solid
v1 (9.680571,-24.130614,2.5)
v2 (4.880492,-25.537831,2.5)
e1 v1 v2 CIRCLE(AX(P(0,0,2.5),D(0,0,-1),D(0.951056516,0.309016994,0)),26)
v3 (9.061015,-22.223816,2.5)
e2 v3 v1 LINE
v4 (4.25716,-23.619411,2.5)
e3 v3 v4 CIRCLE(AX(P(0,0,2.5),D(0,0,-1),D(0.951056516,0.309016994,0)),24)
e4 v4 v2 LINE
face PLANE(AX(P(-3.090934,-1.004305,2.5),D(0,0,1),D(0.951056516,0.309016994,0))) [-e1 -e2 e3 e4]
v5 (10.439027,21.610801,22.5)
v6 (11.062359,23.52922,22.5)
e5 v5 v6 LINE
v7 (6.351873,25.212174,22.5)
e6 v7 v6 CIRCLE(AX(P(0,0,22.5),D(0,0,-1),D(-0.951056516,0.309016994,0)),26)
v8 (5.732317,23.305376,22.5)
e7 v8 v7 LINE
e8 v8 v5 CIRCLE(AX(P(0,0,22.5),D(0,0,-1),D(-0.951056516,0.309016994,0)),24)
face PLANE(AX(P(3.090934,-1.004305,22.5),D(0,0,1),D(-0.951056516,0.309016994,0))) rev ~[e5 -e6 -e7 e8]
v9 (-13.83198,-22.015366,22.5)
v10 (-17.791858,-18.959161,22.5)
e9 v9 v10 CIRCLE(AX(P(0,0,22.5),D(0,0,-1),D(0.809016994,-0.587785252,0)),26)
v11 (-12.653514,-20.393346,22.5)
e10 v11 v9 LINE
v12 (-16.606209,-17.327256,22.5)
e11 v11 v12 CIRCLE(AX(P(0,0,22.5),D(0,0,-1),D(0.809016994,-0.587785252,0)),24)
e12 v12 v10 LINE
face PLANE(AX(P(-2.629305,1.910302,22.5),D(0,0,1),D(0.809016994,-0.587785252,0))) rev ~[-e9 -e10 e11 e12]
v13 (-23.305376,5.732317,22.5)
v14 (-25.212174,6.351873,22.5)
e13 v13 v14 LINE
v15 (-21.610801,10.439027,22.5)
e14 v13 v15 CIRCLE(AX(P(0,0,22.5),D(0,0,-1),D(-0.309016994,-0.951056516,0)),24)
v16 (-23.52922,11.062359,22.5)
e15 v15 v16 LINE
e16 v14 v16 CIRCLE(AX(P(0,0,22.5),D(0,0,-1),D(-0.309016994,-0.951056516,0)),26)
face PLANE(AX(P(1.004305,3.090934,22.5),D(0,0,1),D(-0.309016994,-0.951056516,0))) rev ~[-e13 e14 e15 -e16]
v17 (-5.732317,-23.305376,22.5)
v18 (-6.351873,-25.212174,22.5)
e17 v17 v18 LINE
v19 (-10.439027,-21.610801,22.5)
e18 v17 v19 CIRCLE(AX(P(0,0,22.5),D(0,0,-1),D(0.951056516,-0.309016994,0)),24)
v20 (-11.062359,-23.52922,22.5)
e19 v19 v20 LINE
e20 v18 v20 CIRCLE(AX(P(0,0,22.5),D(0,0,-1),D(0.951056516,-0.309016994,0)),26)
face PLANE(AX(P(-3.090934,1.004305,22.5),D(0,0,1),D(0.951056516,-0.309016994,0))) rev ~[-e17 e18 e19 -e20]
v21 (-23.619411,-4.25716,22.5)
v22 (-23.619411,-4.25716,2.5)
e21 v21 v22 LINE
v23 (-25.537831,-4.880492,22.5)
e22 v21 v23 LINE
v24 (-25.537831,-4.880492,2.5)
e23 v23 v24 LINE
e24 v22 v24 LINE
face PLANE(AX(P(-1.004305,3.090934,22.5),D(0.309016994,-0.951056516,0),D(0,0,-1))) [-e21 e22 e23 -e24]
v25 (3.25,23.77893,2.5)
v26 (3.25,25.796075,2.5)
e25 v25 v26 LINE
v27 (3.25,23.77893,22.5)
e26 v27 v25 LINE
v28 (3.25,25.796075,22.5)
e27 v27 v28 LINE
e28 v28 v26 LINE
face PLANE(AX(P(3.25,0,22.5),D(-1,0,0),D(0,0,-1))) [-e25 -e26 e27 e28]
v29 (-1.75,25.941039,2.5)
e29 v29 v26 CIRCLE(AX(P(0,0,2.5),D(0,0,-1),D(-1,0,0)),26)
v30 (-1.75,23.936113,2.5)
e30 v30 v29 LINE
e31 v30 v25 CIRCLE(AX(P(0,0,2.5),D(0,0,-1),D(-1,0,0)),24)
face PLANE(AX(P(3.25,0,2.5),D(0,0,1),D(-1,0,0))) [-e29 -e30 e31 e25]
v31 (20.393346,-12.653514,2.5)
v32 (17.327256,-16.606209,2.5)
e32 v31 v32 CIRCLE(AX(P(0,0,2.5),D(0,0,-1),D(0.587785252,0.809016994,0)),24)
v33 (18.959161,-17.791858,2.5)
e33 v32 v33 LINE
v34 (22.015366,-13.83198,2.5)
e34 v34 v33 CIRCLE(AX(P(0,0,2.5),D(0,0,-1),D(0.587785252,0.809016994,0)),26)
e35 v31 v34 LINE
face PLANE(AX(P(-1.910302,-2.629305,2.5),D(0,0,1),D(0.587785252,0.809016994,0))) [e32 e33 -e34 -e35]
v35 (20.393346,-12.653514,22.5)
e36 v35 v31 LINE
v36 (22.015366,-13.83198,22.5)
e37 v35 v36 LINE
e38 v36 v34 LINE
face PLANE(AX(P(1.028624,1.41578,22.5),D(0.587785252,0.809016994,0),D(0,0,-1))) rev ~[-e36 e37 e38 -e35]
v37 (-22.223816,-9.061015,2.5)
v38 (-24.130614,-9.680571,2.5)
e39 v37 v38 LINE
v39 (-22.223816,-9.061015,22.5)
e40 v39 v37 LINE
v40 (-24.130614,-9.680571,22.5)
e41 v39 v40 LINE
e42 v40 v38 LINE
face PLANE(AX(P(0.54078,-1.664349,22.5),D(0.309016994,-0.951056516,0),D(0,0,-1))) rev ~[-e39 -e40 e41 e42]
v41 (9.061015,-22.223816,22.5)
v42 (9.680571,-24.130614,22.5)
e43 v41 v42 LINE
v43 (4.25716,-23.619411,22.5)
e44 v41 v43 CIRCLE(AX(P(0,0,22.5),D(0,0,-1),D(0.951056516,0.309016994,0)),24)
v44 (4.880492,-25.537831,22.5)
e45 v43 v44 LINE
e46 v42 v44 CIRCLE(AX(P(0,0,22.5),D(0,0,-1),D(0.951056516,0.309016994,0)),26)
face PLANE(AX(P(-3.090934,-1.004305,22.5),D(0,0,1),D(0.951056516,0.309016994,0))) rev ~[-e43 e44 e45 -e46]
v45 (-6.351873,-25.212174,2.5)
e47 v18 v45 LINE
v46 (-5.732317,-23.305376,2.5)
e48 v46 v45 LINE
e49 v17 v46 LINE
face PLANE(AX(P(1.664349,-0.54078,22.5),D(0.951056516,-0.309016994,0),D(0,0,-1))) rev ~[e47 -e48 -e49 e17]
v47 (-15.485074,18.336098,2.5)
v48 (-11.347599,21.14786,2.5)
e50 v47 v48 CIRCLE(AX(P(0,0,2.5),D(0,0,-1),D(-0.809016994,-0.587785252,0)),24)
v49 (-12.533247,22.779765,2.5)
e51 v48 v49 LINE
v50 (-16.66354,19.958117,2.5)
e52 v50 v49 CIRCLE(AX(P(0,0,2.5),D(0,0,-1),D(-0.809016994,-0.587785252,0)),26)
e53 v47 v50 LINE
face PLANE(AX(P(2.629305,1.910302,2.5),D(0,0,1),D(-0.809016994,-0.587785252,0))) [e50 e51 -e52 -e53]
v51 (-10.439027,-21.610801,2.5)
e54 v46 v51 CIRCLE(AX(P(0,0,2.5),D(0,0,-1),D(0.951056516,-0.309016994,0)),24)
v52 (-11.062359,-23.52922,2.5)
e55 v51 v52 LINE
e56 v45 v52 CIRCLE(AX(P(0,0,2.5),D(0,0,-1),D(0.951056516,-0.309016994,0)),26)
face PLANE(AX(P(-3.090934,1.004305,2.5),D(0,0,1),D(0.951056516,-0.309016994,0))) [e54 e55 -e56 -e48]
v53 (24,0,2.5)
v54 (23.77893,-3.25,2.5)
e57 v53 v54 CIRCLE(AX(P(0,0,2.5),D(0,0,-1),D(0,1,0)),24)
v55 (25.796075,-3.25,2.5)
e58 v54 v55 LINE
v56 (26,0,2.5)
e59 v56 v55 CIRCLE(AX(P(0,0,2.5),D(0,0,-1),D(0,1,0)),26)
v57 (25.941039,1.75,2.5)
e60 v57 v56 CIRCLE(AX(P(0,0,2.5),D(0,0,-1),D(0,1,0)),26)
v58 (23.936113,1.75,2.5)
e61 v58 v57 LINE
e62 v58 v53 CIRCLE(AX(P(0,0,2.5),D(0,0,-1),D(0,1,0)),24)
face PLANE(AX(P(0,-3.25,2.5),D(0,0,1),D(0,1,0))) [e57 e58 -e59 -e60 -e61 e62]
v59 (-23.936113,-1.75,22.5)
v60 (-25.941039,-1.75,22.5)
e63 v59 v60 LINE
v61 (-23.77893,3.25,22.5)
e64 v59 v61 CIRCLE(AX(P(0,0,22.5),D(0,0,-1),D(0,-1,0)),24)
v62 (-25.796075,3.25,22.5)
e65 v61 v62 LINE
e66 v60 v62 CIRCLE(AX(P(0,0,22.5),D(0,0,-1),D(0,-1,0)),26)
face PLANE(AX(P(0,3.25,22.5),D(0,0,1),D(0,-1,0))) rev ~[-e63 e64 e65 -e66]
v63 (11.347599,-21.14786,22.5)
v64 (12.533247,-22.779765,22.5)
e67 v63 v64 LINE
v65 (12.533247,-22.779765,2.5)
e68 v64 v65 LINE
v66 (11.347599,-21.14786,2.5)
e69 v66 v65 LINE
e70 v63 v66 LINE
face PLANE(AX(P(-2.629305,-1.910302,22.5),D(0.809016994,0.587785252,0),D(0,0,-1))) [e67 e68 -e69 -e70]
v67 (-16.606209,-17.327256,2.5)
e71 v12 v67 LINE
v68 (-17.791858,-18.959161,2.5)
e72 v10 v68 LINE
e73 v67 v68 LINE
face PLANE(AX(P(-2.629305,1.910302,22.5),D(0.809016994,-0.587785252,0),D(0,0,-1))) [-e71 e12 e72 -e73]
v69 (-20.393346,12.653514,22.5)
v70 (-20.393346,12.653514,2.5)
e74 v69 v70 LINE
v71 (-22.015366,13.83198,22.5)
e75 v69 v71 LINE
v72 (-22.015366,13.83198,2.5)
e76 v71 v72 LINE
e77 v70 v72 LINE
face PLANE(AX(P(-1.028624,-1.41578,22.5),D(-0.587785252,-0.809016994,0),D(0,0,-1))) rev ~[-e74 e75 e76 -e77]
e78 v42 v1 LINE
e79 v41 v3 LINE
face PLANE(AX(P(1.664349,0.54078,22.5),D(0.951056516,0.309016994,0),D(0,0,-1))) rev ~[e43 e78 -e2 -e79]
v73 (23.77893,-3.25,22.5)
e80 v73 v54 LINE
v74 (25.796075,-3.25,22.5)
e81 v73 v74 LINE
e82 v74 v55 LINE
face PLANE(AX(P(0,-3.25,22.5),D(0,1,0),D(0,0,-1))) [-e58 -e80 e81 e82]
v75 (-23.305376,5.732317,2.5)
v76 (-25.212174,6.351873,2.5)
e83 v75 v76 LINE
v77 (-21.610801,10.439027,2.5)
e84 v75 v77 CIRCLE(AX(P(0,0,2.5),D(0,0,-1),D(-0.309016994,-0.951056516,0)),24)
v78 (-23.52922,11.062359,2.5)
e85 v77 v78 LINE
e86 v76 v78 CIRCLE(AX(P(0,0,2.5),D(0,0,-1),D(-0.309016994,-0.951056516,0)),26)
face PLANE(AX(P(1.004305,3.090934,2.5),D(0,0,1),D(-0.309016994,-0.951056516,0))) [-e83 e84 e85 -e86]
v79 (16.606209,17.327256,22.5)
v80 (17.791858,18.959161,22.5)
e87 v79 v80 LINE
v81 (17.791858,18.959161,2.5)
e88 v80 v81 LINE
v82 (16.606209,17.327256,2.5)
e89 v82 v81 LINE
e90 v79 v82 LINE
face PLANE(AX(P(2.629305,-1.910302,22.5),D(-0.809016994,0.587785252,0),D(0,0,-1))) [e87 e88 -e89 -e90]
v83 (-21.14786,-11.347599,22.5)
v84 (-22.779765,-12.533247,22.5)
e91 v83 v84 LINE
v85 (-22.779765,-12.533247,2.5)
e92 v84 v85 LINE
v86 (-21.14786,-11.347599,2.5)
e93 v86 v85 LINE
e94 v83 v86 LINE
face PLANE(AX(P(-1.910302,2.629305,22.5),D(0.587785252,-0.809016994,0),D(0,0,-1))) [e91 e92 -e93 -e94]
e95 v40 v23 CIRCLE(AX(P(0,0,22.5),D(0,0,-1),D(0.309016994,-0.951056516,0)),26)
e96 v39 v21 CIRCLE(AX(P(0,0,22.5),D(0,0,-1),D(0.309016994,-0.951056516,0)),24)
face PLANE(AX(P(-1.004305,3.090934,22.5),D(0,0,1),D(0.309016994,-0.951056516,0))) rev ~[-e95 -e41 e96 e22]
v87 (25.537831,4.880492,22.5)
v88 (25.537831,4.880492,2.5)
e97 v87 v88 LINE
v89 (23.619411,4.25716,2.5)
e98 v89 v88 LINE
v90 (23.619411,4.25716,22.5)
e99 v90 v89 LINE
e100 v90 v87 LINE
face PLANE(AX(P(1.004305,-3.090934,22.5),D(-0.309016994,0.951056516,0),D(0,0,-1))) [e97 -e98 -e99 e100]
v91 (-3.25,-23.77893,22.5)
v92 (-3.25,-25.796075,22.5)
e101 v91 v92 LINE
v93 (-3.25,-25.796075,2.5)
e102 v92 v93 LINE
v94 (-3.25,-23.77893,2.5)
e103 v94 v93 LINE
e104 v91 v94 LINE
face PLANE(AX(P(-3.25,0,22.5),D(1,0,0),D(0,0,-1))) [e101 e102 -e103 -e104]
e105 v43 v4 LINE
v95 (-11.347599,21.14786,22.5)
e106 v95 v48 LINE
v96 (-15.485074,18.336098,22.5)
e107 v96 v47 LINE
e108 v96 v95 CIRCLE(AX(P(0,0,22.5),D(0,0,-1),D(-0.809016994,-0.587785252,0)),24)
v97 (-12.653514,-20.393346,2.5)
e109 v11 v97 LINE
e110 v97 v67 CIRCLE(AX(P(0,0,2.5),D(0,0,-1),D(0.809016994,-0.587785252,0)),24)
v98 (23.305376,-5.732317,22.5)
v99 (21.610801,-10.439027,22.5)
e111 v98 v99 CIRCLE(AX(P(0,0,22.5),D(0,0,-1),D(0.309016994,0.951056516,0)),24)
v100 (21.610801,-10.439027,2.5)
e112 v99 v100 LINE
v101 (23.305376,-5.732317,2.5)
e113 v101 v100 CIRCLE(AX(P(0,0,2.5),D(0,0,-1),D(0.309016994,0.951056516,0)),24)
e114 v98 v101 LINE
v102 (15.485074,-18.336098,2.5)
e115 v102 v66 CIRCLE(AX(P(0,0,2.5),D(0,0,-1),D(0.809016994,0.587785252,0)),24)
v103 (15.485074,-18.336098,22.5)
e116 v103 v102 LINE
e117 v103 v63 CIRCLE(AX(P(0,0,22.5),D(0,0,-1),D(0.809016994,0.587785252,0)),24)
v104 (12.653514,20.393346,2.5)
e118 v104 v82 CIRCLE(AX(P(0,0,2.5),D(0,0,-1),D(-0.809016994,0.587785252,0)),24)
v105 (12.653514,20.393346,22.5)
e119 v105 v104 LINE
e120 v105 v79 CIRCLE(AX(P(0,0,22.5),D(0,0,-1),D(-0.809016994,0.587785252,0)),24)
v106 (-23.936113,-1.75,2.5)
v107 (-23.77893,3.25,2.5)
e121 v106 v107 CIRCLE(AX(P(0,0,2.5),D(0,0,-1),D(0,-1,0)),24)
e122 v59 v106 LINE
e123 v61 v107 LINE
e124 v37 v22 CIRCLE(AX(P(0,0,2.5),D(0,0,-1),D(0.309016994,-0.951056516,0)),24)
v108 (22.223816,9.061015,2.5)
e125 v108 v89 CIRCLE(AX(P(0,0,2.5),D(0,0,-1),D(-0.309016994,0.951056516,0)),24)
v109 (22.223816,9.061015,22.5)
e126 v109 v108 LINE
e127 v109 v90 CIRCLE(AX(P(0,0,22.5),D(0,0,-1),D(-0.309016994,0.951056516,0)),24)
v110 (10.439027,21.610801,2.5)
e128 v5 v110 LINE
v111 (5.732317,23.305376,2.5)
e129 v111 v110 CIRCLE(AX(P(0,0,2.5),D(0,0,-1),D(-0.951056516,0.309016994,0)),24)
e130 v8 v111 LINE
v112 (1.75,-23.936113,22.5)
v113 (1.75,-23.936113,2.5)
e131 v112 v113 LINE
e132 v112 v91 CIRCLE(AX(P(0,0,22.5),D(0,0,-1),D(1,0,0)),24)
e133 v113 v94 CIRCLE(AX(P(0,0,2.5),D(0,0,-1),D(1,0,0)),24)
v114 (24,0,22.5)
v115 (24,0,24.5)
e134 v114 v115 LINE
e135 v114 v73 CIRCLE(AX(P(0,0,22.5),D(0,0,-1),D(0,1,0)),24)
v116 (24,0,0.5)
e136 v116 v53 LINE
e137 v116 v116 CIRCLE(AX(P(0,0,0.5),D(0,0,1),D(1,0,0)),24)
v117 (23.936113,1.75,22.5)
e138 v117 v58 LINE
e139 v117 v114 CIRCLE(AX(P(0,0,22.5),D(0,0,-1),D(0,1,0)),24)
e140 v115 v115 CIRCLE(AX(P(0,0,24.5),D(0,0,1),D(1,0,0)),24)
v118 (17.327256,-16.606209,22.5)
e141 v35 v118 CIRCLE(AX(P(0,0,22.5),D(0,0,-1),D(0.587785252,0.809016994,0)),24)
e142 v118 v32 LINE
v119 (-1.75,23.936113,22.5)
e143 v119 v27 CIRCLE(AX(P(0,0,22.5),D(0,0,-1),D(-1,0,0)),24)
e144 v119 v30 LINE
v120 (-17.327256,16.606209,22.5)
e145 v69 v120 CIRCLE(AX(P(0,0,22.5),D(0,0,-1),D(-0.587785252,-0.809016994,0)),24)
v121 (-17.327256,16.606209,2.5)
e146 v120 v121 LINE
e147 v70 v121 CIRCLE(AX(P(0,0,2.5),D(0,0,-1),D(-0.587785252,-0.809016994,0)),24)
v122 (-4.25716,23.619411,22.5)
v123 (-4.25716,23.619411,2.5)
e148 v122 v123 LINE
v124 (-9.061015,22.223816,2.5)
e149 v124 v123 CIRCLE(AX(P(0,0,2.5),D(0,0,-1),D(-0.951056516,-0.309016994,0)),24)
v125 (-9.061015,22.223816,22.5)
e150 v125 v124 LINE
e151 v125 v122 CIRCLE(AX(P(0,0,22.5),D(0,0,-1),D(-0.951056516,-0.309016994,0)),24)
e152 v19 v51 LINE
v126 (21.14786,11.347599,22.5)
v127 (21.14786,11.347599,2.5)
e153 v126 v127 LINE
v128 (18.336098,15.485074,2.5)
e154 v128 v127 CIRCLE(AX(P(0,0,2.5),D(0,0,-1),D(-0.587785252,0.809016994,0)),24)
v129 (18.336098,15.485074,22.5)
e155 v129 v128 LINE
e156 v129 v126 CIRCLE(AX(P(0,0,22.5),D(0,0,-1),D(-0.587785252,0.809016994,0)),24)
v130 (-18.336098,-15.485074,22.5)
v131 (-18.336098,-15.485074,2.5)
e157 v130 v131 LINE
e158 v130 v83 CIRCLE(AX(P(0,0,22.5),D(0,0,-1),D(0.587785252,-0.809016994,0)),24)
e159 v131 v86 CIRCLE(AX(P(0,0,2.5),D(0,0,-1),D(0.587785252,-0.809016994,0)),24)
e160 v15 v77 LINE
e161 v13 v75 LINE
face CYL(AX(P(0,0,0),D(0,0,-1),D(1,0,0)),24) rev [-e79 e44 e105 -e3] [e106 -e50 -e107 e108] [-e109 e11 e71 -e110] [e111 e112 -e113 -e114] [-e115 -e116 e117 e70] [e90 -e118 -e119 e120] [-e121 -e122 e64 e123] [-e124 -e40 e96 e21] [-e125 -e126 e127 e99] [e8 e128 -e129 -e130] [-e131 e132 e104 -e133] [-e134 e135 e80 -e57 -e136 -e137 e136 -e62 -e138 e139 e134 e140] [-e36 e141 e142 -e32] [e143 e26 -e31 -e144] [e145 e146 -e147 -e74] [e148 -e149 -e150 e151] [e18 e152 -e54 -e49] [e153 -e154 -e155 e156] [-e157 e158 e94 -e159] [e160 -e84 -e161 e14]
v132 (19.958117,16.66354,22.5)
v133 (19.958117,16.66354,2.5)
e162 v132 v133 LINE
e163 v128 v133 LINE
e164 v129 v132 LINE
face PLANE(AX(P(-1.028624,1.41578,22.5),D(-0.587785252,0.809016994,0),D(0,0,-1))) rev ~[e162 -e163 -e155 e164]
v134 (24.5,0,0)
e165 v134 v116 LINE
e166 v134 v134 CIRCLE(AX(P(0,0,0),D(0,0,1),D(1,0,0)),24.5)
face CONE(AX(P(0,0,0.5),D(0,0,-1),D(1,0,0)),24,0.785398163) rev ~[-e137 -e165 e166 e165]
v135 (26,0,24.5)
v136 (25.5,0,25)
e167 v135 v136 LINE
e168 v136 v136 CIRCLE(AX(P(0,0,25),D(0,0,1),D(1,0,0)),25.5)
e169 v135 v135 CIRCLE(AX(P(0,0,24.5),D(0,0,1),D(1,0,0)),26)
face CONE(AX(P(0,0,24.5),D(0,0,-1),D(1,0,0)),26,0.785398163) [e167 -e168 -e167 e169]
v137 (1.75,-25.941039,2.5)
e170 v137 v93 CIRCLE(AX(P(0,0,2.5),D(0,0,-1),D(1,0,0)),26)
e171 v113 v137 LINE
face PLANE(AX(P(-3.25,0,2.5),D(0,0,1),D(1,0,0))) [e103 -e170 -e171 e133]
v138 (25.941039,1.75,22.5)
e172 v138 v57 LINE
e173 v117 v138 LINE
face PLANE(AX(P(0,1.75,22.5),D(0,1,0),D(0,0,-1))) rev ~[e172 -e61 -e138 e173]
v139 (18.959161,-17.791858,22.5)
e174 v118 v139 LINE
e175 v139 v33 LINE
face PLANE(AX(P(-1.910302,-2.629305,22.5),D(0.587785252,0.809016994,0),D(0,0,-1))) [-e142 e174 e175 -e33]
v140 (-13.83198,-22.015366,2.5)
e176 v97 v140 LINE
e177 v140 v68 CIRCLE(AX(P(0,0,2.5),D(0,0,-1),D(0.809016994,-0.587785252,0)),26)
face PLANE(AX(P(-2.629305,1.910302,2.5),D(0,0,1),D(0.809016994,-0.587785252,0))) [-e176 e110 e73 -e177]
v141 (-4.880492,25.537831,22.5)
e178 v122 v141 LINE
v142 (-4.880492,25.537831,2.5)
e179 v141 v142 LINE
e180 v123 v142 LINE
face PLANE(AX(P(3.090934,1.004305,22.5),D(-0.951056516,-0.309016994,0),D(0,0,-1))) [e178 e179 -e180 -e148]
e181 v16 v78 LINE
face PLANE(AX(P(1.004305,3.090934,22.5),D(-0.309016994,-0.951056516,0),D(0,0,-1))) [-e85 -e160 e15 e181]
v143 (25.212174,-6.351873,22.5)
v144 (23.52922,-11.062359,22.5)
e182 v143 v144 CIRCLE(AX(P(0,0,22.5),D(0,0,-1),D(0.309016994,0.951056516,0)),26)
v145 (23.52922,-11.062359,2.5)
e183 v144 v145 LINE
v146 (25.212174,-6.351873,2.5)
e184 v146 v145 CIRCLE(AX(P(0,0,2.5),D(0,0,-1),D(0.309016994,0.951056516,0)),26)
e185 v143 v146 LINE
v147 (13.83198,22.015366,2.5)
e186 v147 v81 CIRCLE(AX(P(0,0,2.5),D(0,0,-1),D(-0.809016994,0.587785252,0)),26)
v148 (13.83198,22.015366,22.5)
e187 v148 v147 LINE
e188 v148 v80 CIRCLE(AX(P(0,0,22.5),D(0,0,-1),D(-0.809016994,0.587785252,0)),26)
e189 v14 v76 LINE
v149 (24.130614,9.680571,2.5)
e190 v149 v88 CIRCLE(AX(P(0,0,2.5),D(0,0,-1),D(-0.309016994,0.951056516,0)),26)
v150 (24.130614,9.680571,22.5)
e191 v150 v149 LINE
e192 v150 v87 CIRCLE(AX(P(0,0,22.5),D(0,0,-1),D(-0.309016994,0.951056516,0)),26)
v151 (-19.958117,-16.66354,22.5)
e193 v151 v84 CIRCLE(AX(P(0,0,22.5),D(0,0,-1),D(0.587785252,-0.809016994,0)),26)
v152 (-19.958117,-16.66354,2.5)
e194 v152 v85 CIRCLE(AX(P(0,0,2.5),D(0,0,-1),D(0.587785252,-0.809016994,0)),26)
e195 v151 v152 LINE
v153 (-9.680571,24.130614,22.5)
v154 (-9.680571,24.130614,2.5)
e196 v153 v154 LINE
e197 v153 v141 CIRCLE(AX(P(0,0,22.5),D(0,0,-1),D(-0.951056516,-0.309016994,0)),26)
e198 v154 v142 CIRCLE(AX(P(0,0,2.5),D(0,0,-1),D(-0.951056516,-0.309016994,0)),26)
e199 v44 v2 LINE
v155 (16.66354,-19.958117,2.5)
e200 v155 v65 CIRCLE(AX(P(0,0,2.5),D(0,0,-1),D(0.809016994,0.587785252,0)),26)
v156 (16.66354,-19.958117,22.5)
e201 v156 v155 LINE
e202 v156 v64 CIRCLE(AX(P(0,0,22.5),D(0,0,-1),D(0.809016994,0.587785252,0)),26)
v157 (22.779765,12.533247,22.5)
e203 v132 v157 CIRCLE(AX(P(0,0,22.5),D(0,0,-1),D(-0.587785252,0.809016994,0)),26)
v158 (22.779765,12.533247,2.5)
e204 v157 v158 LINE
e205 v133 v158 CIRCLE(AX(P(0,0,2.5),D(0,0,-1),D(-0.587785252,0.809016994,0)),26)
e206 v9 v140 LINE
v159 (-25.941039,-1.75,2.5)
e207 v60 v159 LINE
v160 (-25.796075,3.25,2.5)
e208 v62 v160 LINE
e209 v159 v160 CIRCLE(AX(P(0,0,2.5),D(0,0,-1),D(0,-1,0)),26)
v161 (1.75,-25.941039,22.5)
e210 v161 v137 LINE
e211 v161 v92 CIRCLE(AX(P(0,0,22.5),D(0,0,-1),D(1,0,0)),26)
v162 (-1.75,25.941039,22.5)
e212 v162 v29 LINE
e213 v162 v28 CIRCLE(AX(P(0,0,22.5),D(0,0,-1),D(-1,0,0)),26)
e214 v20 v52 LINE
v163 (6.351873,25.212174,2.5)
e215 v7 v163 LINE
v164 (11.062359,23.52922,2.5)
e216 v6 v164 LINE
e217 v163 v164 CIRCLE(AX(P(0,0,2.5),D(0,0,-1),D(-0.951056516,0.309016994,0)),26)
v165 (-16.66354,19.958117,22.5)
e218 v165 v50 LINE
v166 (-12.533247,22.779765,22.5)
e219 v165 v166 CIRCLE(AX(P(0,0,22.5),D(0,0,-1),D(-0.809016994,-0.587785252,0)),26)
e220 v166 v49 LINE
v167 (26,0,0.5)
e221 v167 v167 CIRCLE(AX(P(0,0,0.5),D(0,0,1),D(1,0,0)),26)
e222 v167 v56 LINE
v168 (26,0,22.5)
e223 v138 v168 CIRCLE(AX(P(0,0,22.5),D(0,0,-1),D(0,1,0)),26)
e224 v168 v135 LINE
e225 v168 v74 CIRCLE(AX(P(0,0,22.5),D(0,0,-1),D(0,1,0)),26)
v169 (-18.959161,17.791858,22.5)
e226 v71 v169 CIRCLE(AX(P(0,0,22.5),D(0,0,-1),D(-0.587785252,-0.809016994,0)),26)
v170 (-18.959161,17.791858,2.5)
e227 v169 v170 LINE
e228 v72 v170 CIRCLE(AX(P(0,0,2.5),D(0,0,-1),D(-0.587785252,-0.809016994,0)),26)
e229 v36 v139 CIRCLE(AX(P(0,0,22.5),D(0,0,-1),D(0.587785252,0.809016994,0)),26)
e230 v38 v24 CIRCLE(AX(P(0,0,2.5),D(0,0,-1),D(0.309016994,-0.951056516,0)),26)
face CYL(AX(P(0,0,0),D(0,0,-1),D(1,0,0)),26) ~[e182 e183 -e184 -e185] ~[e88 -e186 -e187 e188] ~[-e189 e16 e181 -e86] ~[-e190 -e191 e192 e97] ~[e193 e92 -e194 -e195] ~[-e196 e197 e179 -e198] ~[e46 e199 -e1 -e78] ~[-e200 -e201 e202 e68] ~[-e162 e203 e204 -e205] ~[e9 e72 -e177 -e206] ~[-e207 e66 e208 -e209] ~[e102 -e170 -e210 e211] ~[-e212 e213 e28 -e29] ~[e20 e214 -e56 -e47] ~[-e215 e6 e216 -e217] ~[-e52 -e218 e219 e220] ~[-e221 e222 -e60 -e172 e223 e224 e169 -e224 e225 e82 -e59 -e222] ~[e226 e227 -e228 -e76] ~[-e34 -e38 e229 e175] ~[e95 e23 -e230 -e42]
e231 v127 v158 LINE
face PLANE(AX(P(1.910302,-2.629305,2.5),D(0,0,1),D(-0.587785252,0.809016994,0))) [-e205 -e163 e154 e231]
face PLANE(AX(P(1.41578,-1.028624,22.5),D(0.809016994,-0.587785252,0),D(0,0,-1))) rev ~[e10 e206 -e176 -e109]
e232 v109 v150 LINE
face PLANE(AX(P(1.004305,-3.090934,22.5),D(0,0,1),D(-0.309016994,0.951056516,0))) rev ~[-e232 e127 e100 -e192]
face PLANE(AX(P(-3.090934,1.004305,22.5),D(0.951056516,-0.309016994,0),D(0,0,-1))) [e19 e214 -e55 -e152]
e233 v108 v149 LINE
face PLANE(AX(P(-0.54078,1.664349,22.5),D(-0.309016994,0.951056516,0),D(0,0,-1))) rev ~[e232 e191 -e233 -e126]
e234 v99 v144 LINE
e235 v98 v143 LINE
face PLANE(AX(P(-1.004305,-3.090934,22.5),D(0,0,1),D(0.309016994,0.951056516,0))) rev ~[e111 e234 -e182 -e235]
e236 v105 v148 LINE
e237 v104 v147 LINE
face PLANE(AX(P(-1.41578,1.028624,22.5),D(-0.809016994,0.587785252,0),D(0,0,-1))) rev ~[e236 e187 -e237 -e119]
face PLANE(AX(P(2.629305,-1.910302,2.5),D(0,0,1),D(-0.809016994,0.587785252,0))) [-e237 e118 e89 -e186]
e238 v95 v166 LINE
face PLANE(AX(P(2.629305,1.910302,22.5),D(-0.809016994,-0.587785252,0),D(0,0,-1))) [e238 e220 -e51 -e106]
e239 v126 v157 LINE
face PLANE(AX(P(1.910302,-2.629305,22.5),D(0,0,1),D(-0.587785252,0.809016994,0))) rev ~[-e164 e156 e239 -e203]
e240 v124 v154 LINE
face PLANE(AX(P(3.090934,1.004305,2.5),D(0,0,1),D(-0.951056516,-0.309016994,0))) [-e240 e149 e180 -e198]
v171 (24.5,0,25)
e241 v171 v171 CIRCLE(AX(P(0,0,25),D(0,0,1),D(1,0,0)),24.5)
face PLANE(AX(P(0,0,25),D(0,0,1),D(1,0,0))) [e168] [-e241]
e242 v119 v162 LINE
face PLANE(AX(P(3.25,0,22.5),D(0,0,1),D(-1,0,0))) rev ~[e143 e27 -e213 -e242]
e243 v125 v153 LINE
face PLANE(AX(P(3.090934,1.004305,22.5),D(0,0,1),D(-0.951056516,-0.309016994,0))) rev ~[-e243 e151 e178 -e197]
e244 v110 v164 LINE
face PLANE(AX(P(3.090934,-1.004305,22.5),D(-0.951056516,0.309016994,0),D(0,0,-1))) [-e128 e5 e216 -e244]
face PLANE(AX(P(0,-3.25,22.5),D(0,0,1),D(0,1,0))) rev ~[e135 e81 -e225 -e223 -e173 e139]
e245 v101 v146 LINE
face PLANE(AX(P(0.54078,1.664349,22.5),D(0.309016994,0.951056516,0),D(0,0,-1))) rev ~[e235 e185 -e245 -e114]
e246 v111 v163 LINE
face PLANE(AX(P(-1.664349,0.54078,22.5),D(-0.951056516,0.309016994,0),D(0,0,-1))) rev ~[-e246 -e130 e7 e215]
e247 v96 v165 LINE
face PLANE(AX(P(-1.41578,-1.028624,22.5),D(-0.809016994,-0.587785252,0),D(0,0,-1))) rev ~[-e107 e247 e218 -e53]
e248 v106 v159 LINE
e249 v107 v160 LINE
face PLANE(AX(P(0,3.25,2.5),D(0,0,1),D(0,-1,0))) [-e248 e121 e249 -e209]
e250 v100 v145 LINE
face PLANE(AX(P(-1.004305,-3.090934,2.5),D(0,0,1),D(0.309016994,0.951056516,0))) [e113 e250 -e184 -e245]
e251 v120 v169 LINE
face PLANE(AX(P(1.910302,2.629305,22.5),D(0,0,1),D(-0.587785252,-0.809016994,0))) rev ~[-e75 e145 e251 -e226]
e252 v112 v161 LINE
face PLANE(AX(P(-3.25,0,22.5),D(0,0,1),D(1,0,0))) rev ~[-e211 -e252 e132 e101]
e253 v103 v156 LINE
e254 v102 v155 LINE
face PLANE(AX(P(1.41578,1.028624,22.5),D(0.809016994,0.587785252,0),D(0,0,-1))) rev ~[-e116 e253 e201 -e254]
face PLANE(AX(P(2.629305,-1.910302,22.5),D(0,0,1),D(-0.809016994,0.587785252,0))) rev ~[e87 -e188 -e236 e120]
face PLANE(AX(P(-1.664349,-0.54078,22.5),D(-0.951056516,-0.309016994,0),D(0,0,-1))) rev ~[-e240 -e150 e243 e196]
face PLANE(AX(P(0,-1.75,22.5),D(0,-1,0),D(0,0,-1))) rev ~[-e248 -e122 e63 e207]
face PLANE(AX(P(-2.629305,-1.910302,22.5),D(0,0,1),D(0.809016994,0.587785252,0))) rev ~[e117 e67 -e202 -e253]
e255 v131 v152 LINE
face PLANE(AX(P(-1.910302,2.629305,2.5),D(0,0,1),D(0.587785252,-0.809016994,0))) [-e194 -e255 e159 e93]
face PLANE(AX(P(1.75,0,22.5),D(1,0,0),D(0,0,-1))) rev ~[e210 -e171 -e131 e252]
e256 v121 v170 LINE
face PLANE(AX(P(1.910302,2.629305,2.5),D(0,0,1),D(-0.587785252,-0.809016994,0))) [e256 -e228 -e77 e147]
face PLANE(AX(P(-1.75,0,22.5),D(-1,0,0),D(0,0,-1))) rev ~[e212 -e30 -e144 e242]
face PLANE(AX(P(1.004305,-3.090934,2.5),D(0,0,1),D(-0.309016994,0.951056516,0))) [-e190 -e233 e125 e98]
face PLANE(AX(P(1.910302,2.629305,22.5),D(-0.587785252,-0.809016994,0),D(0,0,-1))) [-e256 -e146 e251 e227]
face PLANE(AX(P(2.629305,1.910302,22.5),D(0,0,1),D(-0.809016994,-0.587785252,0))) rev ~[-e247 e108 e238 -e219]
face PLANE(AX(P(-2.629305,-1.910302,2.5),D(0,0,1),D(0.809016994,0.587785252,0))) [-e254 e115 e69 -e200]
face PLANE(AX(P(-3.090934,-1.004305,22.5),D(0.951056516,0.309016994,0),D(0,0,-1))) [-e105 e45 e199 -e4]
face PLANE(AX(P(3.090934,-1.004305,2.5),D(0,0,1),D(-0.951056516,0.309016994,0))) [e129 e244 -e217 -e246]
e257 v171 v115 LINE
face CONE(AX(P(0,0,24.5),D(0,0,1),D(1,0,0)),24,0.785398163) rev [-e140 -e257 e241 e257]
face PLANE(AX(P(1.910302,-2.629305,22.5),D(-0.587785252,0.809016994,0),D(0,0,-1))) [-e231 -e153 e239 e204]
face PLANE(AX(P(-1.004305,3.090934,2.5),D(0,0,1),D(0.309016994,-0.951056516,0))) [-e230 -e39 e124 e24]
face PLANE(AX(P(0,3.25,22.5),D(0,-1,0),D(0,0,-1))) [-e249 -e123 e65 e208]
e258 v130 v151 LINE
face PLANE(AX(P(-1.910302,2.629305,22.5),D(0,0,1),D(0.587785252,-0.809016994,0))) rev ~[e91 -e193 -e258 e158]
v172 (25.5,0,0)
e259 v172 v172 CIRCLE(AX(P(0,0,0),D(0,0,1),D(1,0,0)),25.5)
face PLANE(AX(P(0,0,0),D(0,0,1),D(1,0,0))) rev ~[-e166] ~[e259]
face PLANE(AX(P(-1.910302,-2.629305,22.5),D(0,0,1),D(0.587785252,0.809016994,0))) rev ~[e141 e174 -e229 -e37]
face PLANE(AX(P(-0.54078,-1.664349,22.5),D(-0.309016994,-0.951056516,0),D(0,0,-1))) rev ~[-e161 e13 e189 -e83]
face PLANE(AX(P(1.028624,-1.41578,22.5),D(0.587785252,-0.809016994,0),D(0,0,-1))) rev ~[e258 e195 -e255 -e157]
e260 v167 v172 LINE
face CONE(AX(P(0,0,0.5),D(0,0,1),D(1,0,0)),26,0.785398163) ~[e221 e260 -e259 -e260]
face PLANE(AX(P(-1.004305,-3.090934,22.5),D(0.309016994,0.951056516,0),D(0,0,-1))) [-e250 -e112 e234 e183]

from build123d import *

# Parameters (mm, degrees)
ESQUISSE1_R                  = 26
ESQUISSE1_R_2                = 24
BASE_EXTRUSION_DEPTH         = 25
ENL_V_MAT_EXTRU_1_REACH      = 46.463
ESQUISSE2_W                  = 5
ESQUISSE2_H                  = 20
R_P_TITION_CIRCULAIRE2_COUNT = 20
CHANFREIN1_SIZE              = 0.5


with BuildPart() as part:
    # Esquisse1 → Base-Extrusion (new body)
    with BuildSketch(Plane.XY):
        Circle(ESQUISSE1_R)
        Circle(ESQUISSE1_R_2, mode=Mode.SUBTRACT)
    extrude(amount=BASE_EXTRUSION_DEPTH)

    # Esquisse2 → Enlèv. mat.-Extru.1 (cut, up to next)
    with BuildSketch(Plane(origin=(0, 0, 0), x_dir=(1, 0, 0), z_dir=(0, 1, 0)), mode=Mode.PRIVATE) as enl_v_mat_extru_1_sk1:
        with Locations((-0.75, -12.5)):
            Rectangle(ESQUISSE2_W, ESQUISSE2_H)
    enl_v_mat_extru_1_tool1 = extrude(enl_v_mat_extru_1_sk1.sketch, amount=-ENL_V_MAT_EXTRU_1_REACH, mode=Mode.PRIVATE) & part.part
    enl_v_mat_extru_1 = enl_v_mat_extru_1_tool1.solids().sort_by_distance((-0.75, 0, 12.5))[0]
    add(enl_v_mat_extru_1, mode=Mode.SUBTRACT)

    # Répétition circulaire2: Enlèv. mat.-Extru.1 ×20 about axis
    r_p_tition_circulaire2_axis = Axis((0, 0, 75), (0, 0, -1))
    for i in range(1, R_P_TITION_CIRCULAIRE2_COUNT):
        add(enl_v_mat_extru_1.rotate(r_p_tition_circulaire2_axis, i * 360 / R_P_TITION_CIRCULAIRE2_COUNT), mode=Mode.SUBTRACT)

    # Chanfrein1
    chanfrein1_edges = [part.edges().sort_by_distance(p)[0] for p in [
        (-26, 0, 25),
        (-26, 0, 0),
        (-24, 0, 25),
        (-24, 0, 0),
    ]]
    chamfer(chanfrein1_edges, length=CHANFREIN1_SIZE)


solid = part.part
